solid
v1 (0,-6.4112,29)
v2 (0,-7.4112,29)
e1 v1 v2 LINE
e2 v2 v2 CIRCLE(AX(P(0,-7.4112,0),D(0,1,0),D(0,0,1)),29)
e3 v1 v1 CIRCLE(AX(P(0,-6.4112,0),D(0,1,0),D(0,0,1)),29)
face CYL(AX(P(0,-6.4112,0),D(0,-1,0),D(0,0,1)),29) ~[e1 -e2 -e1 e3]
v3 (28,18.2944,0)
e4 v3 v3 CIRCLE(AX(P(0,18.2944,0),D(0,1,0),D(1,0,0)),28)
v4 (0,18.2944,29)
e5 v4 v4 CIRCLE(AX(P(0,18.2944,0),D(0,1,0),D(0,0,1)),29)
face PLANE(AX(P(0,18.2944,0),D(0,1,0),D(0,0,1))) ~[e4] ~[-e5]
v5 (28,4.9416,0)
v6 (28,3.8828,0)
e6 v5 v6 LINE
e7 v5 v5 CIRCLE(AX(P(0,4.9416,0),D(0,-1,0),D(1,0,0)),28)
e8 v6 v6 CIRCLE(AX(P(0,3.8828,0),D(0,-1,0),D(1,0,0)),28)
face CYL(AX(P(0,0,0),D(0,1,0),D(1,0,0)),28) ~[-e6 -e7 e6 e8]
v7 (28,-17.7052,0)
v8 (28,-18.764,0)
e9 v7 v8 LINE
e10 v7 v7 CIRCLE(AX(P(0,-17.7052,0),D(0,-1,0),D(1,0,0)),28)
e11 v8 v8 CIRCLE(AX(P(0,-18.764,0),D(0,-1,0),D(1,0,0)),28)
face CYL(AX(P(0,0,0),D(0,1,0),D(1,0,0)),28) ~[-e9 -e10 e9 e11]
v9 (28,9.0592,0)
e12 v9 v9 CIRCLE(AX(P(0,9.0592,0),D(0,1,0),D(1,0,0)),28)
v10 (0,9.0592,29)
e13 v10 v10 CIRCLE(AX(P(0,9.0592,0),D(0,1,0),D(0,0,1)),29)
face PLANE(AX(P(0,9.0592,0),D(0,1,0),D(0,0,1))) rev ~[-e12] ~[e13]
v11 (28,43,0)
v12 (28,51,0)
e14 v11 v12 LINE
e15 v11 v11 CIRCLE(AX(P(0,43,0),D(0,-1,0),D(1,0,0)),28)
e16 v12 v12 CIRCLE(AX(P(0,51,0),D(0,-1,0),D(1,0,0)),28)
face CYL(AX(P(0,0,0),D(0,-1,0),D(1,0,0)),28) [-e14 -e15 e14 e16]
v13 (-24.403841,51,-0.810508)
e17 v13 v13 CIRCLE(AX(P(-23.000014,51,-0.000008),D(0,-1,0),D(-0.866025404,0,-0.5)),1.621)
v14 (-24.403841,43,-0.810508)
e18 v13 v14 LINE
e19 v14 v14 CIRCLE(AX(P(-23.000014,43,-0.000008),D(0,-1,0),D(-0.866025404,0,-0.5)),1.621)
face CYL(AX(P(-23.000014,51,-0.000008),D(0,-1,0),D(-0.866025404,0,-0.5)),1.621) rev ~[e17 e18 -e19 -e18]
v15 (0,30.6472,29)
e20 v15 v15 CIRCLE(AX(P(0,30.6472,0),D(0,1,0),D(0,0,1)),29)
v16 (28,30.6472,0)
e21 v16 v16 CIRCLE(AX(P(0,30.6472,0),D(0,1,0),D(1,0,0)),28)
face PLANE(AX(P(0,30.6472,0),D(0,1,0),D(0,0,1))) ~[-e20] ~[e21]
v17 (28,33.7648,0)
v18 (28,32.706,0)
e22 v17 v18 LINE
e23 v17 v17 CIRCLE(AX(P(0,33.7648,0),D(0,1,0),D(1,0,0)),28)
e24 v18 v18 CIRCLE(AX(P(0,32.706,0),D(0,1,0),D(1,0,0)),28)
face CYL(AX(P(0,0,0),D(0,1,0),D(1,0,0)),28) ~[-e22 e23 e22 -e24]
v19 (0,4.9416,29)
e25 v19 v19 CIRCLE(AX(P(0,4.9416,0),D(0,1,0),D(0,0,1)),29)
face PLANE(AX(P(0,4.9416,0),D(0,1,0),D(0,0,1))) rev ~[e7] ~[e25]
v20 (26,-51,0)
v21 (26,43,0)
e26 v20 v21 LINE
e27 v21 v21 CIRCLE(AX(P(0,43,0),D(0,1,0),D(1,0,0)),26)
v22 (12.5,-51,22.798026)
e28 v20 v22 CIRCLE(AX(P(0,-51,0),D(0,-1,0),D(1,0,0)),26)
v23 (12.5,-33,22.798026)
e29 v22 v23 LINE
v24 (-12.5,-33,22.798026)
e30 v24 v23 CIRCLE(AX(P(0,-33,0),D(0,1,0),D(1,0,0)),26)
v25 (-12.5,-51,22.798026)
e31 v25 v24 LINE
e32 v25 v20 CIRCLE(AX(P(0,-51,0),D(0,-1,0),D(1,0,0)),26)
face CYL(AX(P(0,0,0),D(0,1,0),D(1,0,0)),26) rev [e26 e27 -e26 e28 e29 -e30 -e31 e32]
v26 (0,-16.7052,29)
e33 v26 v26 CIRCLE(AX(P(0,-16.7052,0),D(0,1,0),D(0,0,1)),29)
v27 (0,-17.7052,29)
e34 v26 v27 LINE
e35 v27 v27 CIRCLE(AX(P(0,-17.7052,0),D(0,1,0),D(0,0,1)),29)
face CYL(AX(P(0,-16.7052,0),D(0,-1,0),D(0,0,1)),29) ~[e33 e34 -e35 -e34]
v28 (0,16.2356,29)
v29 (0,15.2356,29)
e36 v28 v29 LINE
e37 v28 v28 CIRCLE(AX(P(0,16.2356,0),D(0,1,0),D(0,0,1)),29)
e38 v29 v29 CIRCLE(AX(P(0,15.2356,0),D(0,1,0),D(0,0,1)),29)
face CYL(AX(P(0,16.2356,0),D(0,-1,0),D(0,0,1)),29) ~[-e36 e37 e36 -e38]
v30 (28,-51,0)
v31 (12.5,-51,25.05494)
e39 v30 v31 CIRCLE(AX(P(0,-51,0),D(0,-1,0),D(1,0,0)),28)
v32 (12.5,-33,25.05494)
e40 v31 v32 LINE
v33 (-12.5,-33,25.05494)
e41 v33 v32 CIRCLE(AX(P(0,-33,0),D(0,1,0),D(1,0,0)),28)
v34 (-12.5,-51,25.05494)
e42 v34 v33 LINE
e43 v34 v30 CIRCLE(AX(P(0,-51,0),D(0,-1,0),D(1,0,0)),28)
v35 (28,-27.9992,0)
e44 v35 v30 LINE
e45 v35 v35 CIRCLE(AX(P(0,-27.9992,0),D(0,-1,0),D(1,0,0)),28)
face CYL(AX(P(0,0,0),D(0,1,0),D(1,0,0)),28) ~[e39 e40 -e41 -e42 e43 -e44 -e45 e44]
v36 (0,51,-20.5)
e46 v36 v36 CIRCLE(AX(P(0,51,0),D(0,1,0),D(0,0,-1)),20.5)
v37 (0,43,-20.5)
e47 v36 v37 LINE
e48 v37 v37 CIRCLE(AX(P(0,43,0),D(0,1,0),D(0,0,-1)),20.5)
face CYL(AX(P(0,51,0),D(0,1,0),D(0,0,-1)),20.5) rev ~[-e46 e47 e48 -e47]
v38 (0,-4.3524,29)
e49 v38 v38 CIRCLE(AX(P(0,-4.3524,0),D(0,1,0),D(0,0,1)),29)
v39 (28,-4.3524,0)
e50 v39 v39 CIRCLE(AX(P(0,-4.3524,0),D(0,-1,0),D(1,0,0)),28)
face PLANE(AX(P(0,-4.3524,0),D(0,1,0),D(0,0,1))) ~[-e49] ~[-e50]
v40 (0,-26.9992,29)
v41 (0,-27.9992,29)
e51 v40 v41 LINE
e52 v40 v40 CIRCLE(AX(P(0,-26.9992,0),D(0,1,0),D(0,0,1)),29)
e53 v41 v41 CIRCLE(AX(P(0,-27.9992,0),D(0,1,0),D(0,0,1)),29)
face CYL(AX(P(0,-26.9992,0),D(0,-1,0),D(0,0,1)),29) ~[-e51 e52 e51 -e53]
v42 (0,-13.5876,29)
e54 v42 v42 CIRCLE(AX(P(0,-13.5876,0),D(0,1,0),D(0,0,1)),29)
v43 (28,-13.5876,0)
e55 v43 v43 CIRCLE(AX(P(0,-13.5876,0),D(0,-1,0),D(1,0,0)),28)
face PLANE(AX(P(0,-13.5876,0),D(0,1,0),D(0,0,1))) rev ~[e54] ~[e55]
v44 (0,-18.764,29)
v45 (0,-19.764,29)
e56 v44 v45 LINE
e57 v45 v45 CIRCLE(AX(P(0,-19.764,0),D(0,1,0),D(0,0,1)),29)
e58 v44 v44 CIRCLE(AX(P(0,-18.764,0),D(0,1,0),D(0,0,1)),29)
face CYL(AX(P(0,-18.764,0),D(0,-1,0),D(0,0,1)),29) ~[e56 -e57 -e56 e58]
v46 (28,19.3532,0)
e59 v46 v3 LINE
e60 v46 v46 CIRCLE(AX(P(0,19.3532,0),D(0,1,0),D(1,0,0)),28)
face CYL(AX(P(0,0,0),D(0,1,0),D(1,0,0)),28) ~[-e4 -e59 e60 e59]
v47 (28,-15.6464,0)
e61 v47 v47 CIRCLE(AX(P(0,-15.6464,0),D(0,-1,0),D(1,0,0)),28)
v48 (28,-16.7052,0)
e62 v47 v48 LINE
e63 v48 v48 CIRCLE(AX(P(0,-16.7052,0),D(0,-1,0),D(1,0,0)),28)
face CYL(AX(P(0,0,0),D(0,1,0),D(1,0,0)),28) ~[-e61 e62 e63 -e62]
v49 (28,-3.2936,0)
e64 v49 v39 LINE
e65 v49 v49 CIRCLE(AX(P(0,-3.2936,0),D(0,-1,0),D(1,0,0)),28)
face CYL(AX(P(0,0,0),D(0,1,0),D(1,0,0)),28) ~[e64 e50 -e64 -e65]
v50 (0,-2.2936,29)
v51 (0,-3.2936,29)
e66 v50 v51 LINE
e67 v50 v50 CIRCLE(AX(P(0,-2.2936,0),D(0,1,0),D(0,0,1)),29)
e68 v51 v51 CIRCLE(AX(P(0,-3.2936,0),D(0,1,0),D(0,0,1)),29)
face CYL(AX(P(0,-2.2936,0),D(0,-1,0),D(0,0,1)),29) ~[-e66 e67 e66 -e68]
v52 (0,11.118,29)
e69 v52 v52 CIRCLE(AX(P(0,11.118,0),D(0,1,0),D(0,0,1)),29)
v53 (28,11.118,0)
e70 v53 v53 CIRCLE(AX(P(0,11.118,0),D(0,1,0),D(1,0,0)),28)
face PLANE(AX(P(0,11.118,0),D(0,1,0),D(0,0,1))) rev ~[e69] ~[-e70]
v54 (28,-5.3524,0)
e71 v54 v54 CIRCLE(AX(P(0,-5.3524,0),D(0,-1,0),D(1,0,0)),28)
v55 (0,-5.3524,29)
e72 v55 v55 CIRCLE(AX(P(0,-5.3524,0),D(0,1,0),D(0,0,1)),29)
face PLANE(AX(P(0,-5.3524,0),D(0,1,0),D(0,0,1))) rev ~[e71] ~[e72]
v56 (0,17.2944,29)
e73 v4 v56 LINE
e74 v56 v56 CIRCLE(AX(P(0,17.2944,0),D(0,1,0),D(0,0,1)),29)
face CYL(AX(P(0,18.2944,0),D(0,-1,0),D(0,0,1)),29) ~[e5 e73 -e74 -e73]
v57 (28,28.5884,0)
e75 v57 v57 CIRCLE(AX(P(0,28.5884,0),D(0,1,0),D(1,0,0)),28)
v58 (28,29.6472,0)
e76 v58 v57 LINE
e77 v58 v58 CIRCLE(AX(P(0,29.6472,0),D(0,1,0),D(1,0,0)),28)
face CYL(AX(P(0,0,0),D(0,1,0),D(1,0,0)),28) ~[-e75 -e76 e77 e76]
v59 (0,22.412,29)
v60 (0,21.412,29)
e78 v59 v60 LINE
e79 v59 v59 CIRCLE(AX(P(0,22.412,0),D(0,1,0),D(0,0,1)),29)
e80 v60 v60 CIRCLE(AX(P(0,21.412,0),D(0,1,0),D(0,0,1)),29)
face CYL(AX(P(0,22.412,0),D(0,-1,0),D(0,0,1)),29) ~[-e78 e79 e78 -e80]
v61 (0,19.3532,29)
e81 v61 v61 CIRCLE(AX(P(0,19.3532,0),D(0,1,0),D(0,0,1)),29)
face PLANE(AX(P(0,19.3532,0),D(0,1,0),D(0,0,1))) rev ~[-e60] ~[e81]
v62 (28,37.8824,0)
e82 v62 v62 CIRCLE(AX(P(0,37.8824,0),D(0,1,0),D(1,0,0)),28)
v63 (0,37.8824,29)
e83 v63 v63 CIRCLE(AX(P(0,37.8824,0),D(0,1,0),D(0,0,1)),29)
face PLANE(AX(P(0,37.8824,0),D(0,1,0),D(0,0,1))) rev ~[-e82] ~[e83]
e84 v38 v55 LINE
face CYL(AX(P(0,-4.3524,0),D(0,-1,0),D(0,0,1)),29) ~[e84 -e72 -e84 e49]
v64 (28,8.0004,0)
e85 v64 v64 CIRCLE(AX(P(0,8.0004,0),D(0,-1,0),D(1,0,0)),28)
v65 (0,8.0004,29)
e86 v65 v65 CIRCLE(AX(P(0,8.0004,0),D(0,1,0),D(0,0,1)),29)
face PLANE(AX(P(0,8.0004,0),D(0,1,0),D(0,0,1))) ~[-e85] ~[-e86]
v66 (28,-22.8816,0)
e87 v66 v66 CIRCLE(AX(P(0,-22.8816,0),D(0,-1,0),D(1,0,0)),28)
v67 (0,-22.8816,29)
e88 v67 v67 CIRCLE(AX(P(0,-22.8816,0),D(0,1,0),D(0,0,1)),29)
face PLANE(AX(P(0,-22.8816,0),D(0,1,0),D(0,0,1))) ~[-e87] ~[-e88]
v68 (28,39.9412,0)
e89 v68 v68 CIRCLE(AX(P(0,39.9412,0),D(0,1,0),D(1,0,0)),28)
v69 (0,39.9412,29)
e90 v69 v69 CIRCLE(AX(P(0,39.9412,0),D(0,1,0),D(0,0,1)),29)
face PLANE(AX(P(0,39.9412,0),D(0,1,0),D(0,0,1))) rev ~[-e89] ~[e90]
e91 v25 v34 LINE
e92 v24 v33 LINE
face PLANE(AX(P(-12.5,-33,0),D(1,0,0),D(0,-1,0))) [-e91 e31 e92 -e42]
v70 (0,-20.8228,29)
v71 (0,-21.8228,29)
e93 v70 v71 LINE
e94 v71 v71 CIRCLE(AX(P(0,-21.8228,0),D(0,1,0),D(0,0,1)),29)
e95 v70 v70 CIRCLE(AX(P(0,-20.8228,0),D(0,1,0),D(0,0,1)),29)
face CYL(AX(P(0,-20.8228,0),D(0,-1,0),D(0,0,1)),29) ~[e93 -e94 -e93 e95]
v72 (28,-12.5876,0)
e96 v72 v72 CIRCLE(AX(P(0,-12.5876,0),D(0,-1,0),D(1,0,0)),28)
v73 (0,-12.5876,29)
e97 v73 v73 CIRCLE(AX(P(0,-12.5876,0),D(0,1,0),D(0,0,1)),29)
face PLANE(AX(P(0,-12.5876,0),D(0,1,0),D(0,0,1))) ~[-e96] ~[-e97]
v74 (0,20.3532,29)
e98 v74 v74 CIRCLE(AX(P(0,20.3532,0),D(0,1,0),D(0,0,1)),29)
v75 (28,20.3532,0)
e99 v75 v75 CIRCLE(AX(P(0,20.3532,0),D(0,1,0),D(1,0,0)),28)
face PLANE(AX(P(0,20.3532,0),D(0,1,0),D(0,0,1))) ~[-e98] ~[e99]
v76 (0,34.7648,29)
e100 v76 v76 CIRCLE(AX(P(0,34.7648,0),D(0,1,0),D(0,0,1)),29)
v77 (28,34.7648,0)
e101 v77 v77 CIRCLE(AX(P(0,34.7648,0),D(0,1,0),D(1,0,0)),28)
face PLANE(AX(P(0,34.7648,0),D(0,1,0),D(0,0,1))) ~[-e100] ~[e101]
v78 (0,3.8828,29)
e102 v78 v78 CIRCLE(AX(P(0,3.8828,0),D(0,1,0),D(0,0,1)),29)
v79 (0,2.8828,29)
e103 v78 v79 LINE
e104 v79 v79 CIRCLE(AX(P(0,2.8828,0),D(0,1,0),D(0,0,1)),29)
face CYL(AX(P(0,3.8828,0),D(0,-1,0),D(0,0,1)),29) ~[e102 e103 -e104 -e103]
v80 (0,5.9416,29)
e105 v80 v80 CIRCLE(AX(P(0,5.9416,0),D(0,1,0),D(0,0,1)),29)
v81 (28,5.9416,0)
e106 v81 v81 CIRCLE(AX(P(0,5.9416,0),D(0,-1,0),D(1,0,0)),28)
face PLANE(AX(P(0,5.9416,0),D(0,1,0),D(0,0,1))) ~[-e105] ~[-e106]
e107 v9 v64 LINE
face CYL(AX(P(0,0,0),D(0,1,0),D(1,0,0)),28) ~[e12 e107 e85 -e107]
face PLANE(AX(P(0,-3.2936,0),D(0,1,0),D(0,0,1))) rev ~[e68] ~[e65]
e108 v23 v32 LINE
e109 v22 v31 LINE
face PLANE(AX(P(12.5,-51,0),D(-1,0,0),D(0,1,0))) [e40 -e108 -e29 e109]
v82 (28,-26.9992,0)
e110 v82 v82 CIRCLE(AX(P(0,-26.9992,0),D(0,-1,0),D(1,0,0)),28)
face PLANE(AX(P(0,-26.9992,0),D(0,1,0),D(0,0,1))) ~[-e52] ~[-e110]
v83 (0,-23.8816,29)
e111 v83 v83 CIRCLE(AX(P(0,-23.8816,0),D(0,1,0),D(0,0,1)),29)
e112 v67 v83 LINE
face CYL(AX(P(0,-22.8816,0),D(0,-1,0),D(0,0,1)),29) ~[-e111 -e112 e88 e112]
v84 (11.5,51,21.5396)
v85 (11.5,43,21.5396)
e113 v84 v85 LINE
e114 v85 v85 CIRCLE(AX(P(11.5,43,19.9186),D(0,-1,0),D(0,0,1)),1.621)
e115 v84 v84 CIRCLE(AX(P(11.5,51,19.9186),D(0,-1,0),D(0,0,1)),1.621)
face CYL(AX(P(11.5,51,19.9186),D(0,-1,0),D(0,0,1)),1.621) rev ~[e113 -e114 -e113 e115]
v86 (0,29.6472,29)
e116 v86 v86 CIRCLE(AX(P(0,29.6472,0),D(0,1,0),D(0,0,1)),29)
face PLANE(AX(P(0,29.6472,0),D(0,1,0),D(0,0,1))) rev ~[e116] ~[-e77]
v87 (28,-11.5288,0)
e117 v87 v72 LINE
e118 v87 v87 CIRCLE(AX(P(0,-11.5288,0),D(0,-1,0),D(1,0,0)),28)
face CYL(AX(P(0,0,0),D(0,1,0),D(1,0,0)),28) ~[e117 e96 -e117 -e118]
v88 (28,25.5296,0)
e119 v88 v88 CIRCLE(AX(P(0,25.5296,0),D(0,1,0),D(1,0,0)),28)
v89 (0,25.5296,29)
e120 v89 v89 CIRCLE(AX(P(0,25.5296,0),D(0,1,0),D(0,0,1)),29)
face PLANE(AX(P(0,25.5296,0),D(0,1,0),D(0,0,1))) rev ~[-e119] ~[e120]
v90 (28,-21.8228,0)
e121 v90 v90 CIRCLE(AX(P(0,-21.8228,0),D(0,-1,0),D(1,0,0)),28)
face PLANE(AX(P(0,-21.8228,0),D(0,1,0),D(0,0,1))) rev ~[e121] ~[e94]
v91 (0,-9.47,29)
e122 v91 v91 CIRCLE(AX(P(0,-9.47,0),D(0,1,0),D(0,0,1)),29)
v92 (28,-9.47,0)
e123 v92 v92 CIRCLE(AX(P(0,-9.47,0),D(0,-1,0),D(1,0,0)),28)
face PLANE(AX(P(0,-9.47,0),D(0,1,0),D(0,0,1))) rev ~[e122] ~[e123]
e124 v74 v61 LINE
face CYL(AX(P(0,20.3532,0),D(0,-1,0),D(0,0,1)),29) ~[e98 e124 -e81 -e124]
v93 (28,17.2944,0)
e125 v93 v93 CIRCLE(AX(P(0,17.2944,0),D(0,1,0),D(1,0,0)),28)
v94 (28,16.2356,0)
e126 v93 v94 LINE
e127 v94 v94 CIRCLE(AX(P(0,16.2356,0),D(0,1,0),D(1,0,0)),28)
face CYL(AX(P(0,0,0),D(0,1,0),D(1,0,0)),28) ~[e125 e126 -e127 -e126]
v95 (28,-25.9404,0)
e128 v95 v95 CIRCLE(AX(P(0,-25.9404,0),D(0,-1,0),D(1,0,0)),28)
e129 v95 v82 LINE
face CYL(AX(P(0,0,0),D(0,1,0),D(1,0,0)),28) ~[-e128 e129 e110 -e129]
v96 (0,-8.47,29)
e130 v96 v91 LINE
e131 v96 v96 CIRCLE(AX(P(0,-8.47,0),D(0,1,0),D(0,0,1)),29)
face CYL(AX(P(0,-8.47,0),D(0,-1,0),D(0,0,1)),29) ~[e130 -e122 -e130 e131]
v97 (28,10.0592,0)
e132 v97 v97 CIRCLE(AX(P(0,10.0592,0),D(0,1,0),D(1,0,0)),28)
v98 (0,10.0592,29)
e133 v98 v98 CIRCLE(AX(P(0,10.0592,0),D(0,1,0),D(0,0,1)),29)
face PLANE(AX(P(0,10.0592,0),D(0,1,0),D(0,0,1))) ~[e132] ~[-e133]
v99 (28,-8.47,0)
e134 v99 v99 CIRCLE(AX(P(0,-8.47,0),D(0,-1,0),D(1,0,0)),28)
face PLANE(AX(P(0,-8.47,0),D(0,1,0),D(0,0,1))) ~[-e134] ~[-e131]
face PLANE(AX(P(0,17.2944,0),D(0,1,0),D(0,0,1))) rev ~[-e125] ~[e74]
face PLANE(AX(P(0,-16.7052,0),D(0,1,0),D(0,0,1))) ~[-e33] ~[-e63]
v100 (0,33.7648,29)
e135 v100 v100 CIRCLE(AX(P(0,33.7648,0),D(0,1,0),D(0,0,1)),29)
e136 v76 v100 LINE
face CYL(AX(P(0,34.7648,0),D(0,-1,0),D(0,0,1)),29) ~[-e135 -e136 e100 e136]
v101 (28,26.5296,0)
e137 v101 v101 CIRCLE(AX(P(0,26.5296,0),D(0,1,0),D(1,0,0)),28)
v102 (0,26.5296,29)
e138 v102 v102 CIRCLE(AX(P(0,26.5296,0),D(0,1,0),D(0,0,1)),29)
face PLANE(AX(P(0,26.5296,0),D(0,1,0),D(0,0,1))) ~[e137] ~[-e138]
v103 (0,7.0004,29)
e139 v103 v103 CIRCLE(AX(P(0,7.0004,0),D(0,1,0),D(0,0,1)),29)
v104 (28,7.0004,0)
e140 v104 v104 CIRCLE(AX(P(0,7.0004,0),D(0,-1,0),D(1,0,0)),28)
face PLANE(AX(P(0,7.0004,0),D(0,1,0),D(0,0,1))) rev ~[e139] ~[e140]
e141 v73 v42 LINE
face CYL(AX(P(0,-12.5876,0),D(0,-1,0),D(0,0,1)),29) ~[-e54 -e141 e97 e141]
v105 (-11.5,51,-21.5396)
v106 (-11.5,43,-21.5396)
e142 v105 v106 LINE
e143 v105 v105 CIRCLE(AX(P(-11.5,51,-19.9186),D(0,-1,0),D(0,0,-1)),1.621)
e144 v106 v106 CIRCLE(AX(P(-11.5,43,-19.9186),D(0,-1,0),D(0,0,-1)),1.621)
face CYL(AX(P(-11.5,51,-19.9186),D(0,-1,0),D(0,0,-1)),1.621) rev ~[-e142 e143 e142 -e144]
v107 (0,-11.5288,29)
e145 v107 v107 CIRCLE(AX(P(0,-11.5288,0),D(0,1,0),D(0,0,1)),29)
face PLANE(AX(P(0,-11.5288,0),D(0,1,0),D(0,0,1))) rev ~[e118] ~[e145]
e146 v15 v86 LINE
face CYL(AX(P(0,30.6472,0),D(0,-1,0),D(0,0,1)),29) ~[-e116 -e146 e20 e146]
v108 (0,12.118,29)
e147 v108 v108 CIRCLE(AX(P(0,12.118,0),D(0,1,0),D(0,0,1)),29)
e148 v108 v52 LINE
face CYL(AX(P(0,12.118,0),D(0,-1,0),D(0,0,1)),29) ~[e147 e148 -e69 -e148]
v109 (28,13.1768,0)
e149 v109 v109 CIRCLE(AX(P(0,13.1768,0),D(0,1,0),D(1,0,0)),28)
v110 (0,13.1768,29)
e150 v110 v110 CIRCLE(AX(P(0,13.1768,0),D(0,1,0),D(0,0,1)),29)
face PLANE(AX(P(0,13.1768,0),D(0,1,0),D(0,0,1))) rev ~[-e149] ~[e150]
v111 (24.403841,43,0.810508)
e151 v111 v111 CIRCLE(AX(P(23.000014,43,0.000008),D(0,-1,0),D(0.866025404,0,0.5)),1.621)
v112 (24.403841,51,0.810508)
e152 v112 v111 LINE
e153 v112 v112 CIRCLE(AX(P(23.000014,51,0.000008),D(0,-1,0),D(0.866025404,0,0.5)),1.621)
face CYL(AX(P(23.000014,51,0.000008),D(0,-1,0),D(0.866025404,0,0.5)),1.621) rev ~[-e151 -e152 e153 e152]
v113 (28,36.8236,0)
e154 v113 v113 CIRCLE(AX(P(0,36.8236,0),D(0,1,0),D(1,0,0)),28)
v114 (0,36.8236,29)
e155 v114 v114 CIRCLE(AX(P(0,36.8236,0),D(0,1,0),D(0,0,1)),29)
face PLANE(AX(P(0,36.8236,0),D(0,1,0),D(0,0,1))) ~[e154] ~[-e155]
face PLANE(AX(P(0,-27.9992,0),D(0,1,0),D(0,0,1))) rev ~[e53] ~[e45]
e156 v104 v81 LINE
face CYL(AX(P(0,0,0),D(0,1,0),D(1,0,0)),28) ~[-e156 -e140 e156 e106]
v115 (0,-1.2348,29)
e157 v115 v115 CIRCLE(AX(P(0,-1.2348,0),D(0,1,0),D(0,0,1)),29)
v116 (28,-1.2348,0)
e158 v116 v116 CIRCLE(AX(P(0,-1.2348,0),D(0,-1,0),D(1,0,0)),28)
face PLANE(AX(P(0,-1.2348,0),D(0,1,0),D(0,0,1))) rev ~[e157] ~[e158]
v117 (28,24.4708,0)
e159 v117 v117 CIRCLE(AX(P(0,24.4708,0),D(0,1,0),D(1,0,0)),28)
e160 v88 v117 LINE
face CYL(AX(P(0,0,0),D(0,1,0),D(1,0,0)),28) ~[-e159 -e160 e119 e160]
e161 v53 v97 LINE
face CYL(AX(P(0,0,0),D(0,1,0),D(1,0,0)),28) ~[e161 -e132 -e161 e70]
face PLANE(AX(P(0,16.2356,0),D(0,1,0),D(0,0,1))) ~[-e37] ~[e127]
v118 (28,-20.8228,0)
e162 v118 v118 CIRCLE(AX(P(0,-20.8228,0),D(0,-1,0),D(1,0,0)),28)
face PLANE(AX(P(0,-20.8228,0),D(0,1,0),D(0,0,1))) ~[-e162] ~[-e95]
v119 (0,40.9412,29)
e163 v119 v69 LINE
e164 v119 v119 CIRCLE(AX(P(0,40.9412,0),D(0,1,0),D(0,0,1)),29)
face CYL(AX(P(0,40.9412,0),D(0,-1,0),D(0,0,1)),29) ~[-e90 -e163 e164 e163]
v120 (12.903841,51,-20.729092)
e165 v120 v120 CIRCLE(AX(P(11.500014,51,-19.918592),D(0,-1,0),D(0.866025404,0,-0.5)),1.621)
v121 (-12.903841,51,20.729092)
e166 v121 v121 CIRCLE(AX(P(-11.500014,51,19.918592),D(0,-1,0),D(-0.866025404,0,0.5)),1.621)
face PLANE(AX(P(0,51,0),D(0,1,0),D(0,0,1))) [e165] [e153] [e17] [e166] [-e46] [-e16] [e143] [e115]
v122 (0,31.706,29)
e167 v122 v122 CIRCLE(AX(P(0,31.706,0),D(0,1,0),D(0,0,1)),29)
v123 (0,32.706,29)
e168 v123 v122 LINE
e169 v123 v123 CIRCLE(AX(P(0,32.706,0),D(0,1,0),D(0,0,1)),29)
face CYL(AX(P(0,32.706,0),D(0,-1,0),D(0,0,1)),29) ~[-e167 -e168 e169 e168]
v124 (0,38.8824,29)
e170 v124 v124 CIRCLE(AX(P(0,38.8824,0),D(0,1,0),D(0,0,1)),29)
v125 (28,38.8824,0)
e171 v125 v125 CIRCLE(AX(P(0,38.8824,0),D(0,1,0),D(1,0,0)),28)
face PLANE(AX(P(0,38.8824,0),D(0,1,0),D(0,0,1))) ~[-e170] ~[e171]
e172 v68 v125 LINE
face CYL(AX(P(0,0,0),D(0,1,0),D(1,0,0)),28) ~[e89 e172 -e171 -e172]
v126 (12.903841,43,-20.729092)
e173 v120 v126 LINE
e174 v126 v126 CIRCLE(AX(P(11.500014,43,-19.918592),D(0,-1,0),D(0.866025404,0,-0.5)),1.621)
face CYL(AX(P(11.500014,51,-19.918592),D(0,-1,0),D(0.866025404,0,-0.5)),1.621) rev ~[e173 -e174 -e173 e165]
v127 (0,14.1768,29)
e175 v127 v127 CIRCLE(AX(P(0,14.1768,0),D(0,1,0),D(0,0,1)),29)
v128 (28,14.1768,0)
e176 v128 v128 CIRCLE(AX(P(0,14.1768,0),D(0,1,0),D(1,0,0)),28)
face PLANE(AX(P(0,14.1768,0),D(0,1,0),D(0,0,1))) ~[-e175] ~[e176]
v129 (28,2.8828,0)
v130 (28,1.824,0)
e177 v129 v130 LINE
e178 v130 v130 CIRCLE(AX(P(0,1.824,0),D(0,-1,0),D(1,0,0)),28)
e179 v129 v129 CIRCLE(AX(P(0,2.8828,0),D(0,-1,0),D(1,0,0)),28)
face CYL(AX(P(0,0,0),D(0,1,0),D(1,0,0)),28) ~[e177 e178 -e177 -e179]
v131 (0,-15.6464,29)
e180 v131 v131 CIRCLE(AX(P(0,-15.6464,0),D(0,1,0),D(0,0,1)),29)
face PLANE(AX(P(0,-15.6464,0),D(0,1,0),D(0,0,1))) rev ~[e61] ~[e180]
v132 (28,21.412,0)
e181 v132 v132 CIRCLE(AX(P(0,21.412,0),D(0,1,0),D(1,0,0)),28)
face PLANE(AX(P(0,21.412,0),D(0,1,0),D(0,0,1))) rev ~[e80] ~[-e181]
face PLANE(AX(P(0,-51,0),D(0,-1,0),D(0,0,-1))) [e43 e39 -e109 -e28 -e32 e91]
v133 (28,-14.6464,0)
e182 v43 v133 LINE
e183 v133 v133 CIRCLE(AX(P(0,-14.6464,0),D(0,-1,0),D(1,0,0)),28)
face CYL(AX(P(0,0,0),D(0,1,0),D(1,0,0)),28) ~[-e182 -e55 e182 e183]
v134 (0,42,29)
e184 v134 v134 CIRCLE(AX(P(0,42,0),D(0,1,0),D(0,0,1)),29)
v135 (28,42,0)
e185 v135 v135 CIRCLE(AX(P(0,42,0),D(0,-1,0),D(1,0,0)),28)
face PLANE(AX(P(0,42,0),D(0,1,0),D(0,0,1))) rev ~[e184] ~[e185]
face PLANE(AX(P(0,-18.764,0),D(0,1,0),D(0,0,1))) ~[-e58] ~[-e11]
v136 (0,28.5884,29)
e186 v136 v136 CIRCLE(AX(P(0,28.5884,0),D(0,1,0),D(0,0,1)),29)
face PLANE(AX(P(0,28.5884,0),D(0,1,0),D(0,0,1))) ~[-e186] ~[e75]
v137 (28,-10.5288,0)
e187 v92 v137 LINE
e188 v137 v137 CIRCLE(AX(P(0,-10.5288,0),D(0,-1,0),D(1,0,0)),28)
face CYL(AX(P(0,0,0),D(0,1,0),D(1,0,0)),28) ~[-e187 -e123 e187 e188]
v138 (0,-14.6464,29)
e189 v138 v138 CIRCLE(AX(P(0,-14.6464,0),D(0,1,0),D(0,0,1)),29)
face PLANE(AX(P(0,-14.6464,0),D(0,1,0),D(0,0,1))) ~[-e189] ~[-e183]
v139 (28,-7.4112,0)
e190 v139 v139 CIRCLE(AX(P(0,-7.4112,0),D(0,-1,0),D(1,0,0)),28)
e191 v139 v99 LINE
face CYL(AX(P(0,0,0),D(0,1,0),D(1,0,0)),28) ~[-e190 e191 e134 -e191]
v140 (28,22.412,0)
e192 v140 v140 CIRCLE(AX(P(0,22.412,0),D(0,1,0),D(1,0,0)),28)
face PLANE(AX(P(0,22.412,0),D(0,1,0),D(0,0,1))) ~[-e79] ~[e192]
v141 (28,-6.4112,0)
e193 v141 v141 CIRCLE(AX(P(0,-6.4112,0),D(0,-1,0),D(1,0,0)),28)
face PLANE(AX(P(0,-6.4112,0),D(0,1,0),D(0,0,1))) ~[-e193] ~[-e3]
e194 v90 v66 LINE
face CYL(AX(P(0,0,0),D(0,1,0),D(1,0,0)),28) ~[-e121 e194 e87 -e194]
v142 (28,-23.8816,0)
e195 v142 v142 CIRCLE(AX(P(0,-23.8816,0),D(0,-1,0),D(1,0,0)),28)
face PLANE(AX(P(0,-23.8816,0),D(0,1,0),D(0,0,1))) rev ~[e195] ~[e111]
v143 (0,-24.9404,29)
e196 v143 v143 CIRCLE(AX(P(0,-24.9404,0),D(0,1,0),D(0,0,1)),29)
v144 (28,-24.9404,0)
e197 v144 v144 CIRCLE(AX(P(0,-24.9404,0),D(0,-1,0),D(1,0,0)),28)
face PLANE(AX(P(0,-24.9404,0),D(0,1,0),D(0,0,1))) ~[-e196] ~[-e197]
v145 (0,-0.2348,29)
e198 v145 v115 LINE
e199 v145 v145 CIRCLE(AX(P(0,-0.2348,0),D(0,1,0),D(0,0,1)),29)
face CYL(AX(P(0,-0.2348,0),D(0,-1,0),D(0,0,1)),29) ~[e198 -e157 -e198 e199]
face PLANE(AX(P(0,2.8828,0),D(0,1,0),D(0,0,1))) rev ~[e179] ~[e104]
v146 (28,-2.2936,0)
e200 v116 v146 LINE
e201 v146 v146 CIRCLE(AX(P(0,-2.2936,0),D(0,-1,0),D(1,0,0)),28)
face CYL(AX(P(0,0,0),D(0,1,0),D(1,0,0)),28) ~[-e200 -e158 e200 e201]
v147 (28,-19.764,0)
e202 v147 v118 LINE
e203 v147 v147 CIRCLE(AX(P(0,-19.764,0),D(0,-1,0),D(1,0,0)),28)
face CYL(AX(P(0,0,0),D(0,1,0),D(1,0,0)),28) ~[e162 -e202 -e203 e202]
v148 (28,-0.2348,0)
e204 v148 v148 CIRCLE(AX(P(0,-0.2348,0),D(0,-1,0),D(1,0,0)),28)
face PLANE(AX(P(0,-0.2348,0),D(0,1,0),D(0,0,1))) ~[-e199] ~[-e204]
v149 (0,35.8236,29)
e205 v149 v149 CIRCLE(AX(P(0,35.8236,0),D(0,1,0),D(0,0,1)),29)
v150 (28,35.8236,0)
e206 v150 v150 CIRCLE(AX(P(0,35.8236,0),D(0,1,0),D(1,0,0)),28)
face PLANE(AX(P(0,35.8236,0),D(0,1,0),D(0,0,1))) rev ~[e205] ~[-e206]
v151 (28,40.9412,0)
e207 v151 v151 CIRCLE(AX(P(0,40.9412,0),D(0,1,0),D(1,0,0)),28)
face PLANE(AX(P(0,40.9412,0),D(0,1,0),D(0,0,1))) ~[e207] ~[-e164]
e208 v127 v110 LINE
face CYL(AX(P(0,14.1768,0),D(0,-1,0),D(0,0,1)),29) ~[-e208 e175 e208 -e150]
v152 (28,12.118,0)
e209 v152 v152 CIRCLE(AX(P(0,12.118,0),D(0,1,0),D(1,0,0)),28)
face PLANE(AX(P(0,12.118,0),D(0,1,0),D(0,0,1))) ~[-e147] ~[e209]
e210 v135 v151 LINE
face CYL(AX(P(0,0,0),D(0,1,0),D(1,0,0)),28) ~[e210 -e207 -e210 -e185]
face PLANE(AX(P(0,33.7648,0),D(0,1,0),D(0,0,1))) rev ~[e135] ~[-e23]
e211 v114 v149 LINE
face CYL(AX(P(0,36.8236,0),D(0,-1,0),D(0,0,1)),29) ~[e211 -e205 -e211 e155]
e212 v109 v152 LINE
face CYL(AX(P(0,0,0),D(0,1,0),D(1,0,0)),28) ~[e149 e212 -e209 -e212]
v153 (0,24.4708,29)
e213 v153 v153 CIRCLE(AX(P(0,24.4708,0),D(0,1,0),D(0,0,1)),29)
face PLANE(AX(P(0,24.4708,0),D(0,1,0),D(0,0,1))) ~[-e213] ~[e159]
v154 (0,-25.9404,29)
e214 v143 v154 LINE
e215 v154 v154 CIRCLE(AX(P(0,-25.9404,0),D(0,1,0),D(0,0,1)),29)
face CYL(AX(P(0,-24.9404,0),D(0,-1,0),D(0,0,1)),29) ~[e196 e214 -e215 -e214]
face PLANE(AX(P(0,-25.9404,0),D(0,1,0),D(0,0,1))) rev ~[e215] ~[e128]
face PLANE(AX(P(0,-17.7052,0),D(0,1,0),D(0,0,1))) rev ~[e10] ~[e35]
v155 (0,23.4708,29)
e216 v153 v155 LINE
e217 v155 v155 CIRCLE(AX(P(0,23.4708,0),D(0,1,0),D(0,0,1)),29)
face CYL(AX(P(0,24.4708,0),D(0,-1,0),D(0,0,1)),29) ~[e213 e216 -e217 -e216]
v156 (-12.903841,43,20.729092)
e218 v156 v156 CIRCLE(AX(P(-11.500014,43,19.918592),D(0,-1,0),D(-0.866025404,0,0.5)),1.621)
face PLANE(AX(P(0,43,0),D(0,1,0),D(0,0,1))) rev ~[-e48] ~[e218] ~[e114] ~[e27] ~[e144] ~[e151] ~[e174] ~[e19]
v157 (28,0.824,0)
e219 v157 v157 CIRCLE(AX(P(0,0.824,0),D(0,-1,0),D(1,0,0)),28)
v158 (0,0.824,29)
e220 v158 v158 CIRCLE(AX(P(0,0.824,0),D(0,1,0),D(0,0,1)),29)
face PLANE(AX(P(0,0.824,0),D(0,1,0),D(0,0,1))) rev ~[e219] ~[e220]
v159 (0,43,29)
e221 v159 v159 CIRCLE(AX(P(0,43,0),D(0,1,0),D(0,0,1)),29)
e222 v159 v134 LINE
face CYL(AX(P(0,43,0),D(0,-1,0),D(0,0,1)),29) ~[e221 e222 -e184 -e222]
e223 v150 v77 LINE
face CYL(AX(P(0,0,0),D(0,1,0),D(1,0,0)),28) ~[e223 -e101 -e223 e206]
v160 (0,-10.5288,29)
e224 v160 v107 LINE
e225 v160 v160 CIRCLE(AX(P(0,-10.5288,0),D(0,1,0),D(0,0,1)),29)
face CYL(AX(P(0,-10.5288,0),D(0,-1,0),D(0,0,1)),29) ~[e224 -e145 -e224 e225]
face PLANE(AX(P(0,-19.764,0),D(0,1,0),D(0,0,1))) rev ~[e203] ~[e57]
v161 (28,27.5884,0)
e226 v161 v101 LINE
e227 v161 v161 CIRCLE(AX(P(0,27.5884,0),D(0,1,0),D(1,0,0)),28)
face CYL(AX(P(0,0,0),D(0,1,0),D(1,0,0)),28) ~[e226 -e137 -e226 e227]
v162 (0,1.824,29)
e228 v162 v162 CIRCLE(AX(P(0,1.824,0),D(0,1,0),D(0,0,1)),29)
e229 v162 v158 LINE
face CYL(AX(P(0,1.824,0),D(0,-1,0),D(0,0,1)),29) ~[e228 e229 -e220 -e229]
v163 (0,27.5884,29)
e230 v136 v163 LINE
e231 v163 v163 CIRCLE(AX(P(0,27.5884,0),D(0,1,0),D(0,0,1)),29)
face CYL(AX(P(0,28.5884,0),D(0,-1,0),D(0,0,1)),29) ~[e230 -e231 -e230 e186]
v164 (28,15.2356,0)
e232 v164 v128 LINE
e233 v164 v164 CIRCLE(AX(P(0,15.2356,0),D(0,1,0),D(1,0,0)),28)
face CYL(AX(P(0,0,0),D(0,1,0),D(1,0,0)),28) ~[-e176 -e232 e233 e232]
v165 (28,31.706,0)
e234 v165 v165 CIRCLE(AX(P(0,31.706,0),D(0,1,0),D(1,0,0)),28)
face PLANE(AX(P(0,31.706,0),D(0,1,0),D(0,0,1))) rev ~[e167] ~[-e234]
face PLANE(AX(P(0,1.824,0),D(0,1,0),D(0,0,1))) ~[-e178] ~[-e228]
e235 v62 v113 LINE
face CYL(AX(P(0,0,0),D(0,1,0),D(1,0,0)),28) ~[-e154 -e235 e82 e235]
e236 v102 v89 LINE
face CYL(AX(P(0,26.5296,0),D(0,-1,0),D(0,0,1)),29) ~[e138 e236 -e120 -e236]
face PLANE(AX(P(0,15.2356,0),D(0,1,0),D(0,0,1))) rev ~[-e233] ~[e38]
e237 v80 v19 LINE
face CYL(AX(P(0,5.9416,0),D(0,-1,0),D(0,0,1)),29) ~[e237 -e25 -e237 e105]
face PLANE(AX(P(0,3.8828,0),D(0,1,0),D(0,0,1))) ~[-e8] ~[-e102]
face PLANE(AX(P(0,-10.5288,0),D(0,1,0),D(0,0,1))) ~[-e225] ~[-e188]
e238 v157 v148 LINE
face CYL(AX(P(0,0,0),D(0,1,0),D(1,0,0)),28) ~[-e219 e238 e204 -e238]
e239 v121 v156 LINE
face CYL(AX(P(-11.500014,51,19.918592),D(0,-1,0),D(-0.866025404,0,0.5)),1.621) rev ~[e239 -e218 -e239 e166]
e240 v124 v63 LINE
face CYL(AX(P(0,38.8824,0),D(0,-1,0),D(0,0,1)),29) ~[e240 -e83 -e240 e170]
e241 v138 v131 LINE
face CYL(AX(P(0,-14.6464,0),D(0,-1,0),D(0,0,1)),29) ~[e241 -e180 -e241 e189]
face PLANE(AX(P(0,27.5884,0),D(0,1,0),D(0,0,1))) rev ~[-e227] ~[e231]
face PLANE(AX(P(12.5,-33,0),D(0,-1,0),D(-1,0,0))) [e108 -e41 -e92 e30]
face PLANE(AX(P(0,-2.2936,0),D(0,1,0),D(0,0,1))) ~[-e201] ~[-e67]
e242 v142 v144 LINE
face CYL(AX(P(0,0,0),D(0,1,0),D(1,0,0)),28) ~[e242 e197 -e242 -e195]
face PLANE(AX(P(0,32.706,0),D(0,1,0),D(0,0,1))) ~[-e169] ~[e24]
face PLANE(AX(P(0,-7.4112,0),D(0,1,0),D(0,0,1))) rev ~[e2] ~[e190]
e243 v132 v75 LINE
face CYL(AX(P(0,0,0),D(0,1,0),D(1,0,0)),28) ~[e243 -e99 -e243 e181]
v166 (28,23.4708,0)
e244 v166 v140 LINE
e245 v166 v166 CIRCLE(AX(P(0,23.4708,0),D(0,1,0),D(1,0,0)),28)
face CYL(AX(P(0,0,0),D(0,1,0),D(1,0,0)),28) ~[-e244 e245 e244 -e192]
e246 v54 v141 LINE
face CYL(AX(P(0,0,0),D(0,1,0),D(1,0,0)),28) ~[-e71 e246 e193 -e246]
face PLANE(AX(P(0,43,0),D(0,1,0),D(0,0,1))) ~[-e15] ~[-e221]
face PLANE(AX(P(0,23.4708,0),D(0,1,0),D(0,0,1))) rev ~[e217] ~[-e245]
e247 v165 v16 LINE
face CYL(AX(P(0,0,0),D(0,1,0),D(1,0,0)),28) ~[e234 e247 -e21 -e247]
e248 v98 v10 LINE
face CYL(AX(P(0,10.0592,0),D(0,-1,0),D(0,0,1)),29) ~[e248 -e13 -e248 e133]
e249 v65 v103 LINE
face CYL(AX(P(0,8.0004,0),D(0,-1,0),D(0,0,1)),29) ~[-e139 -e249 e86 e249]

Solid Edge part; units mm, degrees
sketch "Sketch1" plane through (0, 0, 0) normal (0, -1, 0) x (1, 0, 0)
  circle A0 centre (0, 0) radius 28
  circle A1 centre (0, 0) radius 26
extrude "Protrusion1" add sketch "Sketch1" along normal mid plane 102
sketch "Sketch2" plane through (0, 0, 0) normal (1, 0, 0) x (0, 1, 0)
  line L0 (43, 28) -> (43, 29)
  line L1 (43, 29) -> (42, 29)
  line L2 (42, 29) -> (42, 28)
  line L3 (42, 28) -> (43, 28)
  dimension "D1" = 1
  dimension "D2" = 1
  dimension "D3" = 8
revolve "RevolvedProtrusion1" add sketch "Sketch2" angle 360 about axis through (0, 0, 0) along (0, 1, 0)
pattern_linear "Pattern1" count 35 spacing 2.0588 along (0, -1, 0) of "RevolvedProtrusion1"
sketch "Sketch3" plane through (0, 0, 0) normal (0, 0, 1) x (1, 0, 0)
  line L0 (-12.5, -51) -> (12.5, -51)
  line L1 (12.5, -51) -> (12.5, -33)
  line L2 (12.5, -33) -> (-12.5, -33)
  line L3 (-12.5, -33) -> (-12.5, -51)
  dimension "D1" = 18
  dimension "D2" = 25
extrude "Extrusionsausschnitt_1" cut sketch "Sketch3" along normal blind 55.2223
sketch "Sketch4" plane through (0, 51, 0) normal (0, 1, 0) x (0, 0, -1)
  circle A0 centre (0, 0) radius 20.5
  circle A1 centre (0, 0) radius 26
extrude "Extrusionsausprägung_2" add sketch "Sketch4" against normal blind 8
hole "Bohrung_1" at (11.5, 51, 19.9186) direction (0, -1, 0) diameter 3.242 depth 8
pattern_circular "Pattern2" count 6 over 360 about axis through (0, 51, 0) along (0, -1, 0) of "Bohrung_1"
properties material "Aluminiumlegierung:3.0205, Al 99.0, EN-AW 1200"
